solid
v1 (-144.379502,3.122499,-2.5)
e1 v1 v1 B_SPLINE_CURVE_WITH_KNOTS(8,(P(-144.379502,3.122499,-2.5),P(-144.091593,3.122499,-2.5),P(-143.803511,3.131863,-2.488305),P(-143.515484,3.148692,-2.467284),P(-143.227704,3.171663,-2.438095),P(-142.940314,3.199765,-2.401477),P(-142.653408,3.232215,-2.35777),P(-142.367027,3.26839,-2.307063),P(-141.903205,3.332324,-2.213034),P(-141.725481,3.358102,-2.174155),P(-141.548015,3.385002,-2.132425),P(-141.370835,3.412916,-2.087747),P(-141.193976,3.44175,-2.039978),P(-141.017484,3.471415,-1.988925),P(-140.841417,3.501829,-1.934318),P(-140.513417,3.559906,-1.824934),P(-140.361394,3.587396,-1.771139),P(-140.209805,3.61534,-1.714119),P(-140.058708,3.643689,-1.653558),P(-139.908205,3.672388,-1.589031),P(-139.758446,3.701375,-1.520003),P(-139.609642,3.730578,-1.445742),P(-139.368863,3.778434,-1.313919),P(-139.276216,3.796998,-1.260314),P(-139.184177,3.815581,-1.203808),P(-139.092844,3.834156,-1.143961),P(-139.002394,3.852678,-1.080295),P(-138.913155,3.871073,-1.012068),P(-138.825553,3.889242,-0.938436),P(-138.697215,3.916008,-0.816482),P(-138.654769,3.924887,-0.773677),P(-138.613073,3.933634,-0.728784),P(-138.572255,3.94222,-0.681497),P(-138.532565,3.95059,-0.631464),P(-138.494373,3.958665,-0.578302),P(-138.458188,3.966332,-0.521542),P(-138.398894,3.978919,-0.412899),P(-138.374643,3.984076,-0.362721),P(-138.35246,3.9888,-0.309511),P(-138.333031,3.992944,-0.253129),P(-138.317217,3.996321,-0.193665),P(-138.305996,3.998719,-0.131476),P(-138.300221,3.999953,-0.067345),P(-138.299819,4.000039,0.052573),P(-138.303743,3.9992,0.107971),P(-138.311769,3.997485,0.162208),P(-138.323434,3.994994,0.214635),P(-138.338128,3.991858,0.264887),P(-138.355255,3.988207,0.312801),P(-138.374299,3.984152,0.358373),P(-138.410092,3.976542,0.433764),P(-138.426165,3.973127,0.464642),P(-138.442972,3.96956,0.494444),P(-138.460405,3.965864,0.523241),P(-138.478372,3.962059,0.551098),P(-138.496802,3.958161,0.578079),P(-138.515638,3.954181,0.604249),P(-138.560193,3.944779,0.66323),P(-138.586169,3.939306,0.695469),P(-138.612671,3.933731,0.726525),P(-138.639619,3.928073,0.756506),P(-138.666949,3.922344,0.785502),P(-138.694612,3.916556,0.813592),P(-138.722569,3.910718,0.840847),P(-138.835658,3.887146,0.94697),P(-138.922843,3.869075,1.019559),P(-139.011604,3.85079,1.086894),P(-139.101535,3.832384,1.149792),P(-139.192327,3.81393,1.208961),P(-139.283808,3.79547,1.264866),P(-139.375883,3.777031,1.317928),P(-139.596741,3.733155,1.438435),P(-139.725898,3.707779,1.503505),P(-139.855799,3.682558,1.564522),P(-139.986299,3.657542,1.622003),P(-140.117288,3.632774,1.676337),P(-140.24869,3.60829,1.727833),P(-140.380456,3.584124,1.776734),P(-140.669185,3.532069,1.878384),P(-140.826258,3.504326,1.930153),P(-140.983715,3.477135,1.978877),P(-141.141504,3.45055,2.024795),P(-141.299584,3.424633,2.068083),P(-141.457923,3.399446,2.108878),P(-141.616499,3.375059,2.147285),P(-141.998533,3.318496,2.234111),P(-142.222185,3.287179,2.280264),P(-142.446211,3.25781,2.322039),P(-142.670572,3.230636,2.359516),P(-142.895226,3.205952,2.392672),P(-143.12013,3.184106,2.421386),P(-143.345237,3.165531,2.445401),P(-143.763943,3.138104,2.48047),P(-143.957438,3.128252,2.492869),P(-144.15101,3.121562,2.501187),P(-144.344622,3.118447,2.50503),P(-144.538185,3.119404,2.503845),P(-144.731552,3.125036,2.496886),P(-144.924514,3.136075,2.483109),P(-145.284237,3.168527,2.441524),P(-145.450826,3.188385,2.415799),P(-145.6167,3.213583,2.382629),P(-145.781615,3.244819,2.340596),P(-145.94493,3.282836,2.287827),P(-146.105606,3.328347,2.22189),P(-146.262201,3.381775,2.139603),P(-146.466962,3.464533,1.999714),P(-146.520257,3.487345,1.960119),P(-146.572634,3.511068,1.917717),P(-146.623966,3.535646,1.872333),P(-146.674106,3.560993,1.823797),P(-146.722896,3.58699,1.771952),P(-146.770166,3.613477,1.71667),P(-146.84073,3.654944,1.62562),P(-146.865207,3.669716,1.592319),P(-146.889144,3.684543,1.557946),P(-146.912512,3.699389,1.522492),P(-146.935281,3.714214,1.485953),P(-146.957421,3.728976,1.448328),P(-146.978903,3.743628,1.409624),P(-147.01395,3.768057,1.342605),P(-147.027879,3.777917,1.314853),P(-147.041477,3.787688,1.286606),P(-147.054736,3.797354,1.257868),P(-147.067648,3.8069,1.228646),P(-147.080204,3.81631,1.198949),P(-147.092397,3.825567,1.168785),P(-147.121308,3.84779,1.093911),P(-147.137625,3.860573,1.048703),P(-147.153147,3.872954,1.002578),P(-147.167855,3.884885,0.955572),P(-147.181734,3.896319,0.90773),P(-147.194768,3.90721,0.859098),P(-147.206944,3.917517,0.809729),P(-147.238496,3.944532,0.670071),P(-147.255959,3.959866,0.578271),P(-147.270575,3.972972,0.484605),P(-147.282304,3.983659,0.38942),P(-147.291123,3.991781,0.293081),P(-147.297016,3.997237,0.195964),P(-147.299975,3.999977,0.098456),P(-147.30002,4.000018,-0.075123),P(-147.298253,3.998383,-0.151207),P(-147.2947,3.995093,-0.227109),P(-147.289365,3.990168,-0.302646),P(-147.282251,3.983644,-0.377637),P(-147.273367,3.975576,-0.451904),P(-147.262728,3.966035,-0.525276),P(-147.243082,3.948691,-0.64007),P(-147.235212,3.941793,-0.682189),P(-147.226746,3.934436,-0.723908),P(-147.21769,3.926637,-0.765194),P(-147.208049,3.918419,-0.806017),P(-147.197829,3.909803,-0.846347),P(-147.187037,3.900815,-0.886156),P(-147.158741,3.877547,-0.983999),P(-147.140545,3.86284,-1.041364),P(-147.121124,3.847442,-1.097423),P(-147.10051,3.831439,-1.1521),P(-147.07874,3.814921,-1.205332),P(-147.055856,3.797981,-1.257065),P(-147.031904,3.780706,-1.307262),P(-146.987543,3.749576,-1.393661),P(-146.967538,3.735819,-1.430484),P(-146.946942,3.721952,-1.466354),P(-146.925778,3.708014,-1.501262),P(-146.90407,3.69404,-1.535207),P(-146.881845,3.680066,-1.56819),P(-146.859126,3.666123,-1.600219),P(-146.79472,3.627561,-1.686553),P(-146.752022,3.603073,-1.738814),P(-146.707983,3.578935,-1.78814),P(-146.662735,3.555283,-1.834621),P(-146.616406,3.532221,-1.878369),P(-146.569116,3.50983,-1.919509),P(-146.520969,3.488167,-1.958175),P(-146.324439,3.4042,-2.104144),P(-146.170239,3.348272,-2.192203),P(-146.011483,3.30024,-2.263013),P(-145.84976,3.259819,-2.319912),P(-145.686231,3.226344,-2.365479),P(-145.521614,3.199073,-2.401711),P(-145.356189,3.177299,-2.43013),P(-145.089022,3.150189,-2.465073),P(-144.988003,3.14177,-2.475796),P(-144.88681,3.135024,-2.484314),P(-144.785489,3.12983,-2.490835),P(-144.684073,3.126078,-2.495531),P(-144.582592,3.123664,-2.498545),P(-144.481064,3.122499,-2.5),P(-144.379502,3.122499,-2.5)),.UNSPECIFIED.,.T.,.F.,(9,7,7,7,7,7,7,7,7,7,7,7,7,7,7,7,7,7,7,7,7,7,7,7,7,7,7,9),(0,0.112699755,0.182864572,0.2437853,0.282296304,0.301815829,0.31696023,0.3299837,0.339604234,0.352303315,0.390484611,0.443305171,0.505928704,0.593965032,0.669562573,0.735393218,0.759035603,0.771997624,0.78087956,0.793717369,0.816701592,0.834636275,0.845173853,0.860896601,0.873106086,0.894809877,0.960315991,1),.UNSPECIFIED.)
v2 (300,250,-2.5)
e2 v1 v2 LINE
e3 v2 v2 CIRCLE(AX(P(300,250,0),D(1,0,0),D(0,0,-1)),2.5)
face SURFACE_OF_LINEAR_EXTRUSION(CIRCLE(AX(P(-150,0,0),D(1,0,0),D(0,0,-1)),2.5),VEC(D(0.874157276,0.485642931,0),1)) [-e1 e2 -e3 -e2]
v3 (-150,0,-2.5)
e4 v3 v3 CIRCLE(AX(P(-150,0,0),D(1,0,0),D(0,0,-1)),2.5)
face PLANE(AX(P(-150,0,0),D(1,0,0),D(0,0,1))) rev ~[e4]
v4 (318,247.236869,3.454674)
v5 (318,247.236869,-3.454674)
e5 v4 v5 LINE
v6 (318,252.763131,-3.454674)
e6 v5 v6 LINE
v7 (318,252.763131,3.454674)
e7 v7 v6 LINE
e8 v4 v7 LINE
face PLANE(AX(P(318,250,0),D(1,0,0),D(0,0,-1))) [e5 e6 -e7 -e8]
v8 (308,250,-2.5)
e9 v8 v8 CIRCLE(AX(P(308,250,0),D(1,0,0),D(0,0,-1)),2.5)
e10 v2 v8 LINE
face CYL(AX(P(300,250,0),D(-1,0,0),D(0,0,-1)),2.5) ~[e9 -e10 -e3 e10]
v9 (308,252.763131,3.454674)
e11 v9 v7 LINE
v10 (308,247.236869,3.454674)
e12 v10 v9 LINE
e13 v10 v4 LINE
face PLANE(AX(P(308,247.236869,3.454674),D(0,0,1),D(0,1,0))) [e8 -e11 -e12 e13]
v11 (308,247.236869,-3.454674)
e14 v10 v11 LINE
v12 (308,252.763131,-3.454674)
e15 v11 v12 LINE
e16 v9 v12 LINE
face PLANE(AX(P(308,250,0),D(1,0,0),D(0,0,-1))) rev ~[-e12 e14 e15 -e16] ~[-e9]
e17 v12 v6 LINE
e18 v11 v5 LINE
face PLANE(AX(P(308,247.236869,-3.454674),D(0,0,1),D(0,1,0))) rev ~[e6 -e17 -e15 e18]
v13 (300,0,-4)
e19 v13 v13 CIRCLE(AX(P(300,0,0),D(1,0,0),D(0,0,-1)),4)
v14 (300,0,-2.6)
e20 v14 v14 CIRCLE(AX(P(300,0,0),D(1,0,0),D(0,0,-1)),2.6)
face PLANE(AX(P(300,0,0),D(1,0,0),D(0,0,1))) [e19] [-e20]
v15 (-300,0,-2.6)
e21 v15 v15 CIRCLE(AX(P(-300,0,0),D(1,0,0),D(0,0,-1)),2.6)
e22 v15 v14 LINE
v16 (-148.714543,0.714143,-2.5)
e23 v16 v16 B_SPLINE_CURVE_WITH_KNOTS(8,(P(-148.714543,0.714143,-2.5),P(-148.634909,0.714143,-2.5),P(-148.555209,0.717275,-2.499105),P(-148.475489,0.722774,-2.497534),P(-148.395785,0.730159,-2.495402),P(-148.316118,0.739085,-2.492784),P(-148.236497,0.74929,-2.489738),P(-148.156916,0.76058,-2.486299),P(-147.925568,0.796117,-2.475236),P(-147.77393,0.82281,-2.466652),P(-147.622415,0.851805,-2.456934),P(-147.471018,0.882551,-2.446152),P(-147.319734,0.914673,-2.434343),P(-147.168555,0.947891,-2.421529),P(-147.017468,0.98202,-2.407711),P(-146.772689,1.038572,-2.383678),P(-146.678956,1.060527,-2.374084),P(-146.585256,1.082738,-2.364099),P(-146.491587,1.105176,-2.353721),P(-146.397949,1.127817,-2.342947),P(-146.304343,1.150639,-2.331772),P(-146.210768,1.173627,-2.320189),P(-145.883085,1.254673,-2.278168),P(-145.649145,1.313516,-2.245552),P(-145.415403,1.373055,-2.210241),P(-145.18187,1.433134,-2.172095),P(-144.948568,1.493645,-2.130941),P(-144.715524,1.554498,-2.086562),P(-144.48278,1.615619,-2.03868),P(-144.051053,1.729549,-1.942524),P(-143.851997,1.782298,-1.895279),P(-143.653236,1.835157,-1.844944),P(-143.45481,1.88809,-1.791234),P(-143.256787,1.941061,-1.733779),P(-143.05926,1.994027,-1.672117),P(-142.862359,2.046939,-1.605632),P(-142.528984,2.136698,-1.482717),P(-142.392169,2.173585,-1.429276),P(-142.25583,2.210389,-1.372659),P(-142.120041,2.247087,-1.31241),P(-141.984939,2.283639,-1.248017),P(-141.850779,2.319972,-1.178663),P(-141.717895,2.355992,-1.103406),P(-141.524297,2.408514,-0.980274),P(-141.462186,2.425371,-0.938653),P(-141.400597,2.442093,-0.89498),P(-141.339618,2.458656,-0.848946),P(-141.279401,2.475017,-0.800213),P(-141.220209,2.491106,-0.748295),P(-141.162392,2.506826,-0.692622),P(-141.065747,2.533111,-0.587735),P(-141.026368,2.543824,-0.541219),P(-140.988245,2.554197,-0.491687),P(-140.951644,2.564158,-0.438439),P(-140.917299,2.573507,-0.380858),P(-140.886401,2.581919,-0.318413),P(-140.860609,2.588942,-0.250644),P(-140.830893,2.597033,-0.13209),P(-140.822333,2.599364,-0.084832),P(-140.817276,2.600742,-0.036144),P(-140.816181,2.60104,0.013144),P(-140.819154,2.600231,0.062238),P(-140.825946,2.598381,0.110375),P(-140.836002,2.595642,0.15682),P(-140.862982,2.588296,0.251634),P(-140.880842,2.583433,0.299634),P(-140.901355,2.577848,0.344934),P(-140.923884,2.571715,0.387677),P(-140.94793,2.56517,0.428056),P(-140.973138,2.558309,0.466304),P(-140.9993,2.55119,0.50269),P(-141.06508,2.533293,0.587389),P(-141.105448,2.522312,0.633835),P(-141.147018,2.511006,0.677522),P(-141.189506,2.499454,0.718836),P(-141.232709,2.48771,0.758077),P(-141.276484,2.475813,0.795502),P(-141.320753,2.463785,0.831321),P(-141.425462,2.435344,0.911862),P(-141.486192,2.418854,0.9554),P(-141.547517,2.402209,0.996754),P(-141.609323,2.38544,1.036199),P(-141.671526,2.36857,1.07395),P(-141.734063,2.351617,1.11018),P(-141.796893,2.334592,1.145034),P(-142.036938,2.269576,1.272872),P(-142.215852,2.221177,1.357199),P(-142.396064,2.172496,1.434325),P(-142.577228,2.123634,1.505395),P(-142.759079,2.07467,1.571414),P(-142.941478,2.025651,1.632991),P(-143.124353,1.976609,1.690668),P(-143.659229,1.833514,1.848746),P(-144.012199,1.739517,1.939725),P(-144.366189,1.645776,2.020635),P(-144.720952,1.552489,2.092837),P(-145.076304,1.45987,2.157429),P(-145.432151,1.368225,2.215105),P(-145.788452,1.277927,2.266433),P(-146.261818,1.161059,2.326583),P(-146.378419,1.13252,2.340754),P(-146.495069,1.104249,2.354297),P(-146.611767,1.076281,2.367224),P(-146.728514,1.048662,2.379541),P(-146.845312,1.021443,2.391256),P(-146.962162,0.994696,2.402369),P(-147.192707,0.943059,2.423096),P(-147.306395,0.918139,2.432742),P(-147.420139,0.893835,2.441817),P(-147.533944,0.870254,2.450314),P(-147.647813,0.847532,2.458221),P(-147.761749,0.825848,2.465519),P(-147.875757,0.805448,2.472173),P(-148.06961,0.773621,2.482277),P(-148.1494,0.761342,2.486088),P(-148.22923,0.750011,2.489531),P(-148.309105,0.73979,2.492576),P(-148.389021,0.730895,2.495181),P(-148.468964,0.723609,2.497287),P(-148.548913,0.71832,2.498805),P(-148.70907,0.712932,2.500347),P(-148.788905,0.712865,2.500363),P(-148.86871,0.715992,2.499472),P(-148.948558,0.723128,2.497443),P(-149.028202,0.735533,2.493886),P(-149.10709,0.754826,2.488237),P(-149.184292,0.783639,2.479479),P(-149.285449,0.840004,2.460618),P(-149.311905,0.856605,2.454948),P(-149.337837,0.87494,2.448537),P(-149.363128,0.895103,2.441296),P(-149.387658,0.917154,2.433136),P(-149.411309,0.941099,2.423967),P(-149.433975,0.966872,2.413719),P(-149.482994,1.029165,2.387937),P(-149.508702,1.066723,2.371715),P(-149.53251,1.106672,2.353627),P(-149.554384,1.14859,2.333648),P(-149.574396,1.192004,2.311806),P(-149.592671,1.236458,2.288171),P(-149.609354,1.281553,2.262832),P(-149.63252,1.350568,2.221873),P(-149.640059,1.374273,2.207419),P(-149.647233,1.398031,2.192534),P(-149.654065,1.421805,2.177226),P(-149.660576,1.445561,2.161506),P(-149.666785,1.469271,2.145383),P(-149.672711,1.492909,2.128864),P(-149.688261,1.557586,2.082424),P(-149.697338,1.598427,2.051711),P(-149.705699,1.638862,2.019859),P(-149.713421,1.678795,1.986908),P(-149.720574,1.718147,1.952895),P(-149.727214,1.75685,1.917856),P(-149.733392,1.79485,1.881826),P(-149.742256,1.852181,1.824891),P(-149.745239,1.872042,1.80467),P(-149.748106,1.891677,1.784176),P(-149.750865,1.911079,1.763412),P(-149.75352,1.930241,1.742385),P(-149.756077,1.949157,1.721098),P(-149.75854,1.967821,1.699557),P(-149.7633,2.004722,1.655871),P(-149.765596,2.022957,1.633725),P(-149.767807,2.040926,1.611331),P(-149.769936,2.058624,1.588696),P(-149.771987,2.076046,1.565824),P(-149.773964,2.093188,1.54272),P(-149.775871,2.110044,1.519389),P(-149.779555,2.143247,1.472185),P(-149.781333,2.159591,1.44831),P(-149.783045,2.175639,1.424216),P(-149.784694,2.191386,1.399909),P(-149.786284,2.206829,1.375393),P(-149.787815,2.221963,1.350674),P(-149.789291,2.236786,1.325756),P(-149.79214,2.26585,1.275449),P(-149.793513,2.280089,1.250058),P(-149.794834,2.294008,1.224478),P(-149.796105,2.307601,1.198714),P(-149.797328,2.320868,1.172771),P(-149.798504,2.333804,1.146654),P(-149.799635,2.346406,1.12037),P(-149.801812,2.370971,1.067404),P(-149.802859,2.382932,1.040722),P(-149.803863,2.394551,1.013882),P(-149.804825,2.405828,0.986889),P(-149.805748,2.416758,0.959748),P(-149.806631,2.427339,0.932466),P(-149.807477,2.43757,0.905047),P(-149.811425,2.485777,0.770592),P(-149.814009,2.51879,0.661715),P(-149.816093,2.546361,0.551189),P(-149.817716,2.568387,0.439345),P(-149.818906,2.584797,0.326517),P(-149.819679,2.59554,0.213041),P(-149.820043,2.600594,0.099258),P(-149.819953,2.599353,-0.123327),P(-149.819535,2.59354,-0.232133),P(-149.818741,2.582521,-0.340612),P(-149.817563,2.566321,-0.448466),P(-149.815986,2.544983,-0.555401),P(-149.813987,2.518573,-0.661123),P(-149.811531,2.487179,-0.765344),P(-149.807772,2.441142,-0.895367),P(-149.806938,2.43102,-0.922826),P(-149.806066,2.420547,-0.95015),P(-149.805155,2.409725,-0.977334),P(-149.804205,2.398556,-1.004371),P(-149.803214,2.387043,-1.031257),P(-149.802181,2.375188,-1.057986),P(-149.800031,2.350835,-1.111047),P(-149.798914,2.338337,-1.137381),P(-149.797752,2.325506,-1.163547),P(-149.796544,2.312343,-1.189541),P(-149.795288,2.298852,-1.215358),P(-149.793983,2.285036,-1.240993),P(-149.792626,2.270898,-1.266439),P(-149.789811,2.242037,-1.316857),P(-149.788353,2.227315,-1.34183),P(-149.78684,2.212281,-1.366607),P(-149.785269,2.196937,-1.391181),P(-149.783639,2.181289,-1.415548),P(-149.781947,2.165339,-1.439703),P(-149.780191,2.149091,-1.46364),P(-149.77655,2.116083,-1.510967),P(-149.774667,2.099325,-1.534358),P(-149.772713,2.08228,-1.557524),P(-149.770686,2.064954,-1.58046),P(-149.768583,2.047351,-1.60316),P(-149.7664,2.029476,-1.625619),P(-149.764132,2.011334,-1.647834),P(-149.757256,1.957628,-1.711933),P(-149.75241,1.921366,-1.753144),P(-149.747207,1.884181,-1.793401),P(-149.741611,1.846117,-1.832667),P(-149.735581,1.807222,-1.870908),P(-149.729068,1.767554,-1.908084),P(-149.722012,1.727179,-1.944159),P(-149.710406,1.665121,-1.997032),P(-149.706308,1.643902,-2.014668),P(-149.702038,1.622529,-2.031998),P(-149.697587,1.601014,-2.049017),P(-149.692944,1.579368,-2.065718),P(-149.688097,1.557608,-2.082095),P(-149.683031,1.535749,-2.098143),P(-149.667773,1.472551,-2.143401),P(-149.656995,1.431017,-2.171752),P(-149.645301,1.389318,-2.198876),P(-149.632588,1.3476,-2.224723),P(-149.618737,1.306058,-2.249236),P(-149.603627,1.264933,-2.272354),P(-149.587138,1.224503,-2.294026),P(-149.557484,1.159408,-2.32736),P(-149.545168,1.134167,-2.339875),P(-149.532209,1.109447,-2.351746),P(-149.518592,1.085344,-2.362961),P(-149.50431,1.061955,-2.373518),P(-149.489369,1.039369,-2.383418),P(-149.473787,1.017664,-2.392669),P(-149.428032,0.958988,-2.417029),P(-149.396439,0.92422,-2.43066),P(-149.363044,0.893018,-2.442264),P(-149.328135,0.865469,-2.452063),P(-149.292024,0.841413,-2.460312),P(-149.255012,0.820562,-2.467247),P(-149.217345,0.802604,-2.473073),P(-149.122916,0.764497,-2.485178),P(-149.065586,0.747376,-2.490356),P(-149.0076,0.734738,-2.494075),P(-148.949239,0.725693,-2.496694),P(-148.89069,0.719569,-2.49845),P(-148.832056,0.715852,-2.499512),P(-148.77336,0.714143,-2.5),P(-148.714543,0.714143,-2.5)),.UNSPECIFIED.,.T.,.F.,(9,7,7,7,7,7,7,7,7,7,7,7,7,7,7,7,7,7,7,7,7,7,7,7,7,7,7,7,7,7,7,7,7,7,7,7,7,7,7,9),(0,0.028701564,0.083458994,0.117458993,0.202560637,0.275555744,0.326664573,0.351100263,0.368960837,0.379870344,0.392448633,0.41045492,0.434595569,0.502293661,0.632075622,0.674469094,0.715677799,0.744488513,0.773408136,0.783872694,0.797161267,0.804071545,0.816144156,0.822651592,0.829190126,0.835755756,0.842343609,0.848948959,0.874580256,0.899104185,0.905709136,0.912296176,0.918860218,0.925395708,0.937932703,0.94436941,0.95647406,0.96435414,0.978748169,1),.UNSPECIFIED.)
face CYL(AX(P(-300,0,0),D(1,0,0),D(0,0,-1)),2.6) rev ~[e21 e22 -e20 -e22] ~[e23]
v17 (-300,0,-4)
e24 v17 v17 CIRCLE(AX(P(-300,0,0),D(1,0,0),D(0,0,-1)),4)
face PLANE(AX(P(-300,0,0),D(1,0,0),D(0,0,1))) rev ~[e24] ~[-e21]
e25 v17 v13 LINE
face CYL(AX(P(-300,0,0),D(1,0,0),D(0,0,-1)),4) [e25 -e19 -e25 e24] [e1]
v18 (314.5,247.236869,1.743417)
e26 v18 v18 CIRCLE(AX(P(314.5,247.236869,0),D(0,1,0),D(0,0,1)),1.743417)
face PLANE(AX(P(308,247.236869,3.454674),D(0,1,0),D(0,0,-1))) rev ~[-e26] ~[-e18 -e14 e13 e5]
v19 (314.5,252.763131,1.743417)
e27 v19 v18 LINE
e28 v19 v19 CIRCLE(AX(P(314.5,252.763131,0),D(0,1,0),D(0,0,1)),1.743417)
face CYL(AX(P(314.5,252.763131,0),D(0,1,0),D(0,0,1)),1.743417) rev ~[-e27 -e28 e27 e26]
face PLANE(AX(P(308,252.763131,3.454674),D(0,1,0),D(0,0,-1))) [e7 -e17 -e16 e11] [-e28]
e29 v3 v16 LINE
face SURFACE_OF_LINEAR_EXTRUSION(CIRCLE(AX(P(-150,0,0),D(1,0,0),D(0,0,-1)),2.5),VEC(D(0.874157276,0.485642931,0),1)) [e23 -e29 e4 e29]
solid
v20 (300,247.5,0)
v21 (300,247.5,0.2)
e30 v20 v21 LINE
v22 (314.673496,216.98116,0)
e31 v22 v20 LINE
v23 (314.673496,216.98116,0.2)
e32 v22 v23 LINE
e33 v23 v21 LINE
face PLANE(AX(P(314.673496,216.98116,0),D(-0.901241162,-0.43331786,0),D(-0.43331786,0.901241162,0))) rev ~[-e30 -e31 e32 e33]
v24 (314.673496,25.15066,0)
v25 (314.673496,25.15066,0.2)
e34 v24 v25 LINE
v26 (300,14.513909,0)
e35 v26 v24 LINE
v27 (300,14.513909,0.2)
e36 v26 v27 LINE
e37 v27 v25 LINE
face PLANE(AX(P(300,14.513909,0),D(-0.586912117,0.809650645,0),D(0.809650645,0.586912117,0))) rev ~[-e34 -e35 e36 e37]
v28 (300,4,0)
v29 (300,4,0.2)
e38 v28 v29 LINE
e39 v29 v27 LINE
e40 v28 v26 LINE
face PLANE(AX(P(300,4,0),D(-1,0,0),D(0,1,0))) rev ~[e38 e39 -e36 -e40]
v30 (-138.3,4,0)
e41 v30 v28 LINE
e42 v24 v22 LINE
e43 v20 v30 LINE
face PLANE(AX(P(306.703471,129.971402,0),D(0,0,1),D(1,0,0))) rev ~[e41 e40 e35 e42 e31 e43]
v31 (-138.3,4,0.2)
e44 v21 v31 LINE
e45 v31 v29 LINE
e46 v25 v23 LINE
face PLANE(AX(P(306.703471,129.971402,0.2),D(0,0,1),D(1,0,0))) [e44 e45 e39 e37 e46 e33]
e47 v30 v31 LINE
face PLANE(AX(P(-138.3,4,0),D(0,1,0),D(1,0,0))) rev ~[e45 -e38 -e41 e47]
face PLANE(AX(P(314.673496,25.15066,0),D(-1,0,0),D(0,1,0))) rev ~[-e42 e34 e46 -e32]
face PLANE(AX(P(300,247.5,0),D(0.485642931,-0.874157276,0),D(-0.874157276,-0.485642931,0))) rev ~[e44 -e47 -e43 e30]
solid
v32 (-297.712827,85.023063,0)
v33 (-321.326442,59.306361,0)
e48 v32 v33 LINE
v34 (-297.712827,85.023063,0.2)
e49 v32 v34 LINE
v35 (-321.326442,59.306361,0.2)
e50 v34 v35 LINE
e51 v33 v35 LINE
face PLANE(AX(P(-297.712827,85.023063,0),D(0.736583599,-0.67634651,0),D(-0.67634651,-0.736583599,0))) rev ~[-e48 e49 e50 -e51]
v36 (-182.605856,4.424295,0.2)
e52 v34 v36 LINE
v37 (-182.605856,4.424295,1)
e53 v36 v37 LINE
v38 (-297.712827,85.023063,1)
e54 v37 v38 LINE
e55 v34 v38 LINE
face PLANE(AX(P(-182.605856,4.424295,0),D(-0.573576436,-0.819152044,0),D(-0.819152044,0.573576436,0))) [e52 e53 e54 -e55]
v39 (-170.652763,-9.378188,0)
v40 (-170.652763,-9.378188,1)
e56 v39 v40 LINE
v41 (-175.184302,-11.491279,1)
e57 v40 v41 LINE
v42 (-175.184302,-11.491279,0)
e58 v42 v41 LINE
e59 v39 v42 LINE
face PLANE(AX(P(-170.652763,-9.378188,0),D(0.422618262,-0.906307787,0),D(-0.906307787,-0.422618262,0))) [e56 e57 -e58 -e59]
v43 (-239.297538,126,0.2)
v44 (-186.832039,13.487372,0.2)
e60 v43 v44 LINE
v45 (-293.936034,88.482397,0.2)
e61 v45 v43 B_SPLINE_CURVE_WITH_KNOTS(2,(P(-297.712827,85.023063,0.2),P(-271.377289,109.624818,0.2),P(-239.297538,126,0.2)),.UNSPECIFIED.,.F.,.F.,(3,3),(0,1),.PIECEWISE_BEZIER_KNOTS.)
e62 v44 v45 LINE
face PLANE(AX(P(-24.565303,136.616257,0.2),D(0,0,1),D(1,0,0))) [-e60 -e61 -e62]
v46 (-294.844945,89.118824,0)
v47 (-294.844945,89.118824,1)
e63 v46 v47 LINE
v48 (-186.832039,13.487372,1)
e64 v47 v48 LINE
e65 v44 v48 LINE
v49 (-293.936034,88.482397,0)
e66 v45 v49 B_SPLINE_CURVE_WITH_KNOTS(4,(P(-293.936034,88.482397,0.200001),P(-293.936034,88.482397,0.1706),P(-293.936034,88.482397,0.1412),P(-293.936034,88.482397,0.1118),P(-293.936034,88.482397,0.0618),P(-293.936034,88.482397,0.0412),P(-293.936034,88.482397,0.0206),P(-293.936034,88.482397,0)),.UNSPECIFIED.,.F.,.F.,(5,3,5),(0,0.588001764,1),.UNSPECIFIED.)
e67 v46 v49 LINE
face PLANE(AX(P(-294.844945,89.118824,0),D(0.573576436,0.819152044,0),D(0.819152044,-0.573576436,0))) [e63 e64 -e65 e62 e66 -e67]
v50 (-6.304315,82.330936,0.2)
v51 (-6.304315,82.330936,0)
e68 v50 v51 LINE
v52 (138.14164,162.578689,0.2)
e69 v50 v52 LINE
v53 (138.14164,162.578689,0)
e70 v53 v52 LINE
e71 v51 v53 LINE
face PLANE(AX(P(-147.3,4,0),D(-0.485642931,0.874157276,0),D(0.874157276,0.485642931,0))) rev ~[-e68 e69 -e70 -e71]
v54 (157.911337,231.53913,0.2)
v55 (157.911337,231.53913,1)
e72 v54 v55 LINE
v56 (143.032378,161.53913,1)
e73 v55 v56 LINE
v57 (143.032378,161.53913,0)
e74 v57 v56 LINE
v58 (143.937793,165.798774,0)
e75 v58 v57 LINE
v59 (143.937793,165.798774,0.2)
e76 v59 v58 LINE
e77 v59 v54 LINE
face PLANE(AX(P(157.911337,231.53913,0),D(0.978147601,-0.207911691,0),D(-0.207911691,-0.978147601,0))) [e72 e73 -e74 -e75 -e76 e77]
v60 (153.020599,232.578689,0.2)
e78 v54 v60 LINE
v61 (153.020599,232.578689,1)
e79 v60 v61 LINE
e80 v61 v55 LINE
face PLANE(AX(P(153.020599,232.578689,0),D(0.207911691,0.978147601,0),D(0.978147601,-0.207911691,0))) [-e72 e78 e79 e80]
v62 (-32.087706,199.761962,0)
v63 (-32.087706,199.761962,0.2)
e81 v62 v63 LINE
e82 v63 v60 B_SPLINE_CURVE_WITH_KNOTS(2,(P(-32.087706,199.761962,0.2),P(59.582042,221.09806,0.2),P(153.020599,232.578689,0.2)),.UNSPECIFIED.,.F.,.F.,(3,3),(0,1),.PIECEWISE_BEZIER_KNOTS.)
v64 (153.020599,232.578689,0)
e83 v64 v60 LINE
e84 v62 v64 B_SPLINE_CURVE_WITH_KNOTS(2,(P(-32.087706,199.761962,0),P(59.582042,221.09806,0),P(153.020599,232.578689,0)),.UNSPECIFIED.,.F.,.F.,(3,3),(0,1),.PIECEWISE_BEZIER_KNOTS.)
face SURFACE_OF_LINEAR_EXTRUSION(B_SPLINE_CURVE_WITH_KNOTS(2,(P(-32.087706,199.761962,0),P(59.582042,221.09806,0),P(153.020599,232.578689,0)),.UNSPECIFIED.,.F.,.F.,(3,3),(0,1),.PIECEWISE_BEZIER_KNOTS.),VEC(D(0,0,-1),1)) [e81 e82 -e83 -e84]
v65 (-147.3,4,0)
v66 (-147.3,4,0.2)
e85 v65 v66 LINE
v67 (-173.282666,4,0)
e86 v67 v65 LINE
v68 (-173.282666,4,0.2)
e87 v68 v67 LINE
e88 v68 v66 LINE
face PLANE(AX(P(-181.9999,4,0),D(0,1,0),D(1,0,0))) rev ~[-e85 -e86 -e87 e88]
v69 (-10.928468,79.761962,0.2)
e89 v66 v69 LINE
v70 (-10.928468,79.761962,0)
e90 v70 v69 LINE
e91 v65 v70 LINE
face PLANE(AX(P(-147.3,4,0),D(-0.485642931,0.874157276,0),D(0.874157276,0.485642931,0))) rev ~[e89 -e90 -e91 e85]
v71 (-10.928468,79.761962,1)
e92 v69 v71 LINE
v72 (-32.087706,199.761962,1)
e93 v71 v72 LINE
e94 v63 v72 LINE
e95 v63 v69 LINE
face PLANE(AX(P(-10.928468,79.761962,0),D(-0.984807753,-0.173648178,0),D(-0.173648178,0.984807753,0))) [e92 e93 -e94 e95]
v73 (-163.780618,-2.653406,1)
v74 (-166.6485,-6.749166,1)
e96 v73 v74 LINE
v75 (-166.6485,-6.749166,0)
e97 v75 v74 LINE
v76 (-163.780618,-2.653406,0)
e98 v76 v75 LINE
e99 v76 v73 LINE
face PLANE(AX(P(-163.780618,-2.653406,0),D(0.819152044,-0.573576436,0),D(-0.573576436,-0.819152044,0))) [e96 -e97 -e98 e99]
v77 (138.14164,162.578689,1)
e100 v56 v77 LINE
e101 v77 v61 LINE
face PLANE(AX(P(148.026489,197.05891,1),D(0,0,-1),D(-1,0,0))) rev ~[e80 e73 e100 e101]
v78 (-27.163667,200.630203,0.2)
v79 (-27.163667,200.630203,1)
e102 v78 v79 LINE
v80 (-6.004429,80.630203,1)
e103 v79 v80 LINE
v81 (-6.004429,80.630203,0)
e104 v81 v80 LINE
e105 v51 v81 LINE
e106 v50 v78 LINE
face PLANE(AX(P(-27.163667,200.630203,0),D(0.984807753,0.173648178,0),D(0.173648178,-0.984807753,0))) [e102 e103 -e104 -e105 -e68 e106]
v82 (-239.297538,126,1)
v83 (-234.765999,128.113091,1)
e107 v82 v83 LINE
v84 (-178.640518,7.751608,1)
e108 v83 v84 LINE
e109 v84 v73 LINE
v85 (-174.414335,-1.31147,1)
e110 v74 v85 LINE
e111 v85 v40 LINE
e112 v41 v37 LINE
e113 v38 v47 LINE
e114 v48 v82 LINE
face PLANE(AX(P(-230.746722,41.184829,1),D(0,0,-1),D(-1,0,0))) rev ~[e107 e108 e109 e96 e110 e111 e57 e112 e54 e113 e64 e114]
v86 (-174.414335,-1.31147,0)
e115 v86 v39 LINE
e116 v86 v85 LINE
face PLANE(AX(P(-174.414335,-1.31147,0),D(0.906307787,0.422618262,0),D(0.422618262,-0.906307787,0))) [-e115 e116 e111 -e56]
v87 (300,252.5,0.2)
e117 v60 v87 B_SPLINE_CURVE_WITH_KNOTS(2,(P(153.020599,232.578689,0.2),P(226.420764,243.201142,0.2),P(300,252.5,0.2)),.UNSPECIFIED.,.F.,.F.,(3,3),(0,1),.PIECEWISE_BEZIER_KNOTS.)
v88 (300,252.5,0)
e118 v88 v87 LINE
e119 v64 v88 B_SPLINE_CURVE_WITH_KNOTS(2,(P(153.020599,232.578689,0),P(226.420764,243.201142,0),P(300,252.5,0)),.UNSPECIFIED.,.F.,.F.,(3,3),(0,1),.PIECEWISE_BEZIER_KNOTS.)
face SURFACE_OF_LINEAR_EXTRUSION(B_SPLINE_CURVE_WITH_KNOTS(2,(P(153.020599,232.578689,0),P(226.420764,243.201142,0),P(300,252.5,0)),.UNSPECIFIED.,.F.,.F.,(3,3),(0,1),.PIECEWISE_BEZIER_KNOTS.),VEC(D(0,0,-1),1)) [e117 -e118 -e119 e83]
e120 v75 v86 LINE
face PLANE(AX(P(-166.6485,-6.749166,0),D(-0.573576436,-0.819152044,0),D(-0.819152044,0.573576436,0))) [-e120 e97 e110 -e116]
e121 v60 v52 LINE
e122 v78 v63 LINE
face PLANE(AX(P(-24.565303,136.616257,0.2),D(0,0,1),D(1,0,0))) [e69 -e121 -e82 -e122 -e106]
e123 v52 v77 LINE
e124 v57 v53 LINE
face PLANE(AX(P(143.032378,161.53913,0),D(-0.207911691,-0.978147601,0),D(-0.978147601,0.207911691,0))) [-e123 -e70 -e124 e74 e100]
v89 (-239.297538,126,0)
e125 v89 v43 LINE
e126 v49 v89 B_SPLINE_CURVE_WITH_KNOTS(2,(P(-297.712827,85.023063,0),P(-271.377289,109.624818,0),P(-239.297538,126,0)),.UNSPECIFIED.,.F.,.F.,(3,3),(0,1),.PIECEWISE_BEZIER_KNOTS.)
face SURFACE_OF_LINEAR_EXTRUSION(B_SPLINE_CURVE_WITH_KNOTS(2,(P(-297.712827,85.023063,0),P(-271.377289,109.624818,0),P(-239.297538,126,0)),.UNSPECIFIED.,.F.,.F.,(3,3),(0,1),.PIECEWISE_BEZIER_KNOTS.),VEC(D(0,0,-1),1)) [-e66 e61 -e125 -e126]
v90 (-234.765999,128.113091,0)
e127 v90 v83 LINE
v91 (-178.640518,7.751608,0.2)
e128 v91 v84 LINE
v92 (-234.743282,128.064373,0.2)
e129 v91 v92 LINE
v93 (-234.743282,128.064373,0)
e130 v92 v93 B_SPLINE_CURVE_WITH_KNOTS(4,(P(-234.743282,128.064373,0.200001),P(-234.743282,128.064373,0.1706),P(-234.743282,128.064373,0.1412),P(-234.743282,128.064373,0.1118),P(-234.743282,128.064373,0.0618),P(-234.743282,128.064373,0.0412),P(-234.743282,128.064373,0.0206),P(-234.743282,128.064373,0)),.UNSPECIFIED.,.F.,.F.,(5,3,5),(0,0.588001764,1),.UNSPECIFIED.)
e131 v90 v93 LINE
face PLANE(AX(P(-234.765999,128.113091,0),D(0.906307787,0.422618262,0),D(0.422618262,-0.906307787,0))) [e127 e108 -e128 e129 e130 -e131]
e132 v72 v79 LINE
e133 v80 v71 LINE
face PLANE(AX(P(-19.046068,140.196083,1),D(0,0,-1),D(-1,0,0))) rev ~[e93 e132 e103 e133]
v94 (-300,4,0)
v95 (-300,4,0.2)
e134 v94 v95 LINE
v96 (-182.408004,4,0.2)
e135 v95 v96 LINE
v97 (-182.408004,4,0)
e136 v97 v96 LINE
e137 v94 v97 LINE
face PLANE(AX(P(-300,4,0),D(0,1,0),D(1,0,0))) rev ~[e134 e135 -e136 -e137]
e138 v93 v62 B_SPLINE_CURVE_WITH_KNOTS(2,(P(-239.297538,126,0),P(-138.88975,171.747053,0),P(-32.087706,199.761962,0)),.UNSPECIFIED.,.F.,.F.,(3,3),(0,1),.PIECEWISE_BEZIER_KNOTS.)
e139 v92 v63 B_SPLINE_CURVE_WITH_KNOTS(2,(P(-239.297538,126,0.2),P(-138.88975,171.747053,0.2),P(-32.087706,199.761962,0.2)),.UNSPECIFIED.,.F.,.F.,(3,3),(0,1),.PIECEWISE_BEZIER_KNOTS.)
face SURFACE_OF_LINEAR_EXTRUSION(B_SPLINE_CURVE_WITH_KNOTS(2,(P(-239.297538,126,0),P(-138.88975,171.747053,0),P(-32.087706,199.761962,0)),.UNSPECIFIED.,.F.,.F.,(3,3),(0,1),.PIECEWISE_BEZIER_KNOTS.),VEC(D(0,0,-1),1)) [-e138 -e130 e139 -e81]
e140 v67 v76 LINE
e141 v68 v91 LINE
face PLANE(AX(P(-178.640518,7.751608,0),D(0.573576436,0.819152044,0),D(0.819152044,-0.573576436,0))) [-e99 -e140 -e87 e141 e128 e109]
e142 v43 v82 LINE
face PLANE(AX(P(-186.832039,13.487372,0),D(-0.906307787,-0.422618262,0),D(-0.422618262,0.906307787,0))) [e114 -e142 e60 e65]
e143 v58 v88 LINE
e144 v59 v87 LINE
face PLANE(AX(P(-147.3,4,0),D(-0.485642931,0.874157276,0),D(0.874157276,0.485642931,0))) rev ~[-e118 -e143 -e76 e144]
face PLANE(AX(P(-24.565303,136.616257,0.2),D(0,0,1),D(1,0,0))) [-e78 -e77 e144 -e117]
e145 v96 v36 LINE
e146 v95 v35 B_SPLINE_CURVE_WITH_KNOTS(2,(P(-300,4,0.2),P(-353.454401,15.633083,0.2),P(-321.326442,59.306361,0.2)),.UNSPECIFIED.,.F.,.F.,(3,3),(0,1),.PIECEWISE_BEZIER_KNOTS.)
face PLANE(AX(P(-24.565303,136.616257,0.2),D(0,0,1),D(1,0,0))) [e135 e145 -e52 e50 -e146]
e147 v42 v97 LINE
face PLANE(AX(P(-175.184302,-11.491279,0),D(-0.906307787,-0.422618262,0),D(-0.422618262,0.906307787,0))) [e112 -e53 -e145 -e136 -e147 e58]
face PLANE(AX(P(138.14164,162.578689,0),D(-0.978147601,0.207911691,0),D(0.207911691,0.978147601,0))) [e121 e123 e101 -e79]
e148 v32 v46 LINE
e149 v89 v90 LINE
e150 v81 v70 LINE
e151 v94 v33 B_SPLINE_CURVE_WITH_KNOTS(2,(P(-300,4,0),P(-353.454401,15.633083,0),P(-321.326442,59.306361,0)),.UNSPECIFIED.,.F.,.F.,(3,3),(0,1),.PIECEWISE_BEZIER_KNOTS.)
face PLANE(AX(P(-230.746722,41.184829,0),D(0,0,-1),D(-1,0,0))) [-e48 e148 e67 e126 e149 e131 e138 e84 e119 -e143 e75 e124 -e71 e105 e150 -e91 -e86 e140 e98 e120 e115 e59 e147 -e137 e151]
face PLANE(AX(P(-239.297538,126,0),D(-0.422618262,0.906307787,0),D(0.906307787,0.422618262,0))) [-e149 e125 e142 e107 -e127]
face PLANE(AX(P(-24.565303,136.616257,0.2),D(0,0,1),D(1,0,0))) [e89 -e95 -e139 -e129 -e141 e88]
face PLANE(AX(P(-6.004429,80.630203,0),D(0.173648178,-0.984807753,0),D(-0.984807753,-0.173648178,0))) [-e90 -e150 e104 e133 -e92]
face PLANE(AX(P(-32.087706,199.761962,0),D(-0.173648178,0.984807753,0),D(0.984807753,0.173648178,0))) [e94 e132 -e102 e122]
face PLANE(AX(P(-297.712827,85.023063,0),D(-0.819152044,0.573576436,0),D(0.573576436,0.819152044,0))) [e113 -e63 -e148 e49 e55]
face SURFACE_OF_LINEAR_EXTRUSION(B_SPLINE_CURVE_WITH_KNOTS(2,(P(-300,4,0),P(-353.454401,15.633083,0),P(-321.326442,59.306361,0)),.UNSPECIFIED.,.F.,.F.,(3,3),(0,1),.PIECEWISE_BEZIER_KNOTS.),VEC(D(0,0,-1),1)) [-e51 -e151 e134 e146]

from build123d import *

# Parameters (mm, degrees)
SKETCH2_R            = 4
SKETCH2_R_2          = 2.6
SKETCH4_R            = 2.5
BOSS_EXTRUDE1_DEPTH  = 0.2
EXTRUDE_THIN1_DEPTH  = 1
BOSS_EXTRUDE5_DEPTH  = 0.2
BOSS_EXTRUDE8_DEPTH  = 0.2
SKETCH10_R           = 2.5
BOSS_EXTRUDE13_DEPTH = 8
SKETCH11_W           = 6.909348158
SKETCH11_H           = 5.526262888
BOSS_EXTRUDE14_DEPTH = 10
SKETCH13_R           = 1.743417083
CUT_EXTRUDE1_DEPTH   = 7


with BuildPart() as part:
    # Sweep1: sweep along a path in Sketch1
    with BuildLine(Plane.XY) as sweep1_path:
        Line((-300, 0), (300, 0))
    # Sketch2 → Sweep1 (sweep)
    with BuildSketch(Plane(origin=(-300, 0, 0), x_dir=(0, 0, -1), z_dir=(1, 0, 0))):
        Circle(SKETCH2_R)
        Circle(SKETCH2_R_2, mode=Mode.SUBTRACT)
    sweep(path=sweep1_path.line)

    # Sweep2: sweep along a path in Sketch3
    with BuildLine(Plane.XY) as sweep2_path:
        Line((-150, 0), (300, 250))
    # Sketch4 → Sweep2 (sweep)
    with BuildSketch(Plane(origin=(300, 0, 0), x_dir=(0, 0, -1), z_dir=(1, 0, 0))):
        with Locations((0, 250)):
            Circle(SKETCH4_R)
    sweep(path=sweep2_path.line)

    # Sketch10 → Boss-Extrude13 (add)
    with BuildSketch(Plane(origin=(300, 0, 0), x_dir=(0, 0, -1), z_dir=(1, 0, 0))):
        with Locations((0, 250)):
            Circle(SKETCH10_R)
    extrude(amount=BOSS_EXTRUDE13_DEPTH)

    # Sketch11 → Boss-Extrude14 (add)
    with BuildSketch(Plane(origin=(308, 0, 0), x_dir=(0, 0, -1), z_dir=(1, 0, 0))):
        with Locations((0, 250)):
            Rectangle(SKETCH11_W, SKETCH11_H)
    extrude(amount=BOSS_EXTRUDE14_DEPTH)

    # Sketch13 → Cut-Extrude1 (cut)
    with BuildSketch(Plane(origin=(0, 252.763131444, 0), x_dir=(1, 0, 0), z_dir=(0, 1, 0))):
        with Locations((314.5, 0)):
            Circle(SKETCH13_R)
    extrude(amount=-CUT_EXTRUDE1_DEPTH, mode=Mode.SUBTRACT)


with BuildPart() as body_2:
    # Sketch5 → Boss-Extrude1 (new body)
    with BuildSketch(Plane.XY):
        with BuildLine():
            Line((-182.605855926, 4.424294622), (-181.999900407, 4))
            Line((-181.999900407, 4), (-147.3, 4))
            Line((-147.3, 4), (300, 252.5))
            add(Edge.make_bspline(
                [(153.020599332, 232.578688898), (226.42076394, 243.201142234), (300, 252.5)],
                knots=[0, 0, 0, 1, 1, 1], degree=2))
            add(Edge.make_bspline(
                [(-32.087705813, 199.761962151), (59.582042368, 221.098060394), (153.020599332, 232.578688898)],
                knots=[0, 0, 0, 1, 1, 1], degree=2))
            add(Edge.make_bspline(
                [(-239.297538389, 126), (-138.889749708, 171.747052515), (-32.087705813, 199.761962151)],
                knots=[0, 0, 0, 1, 1, 1], degree=2))
            add(Edge.make_bspline(
                [(-297.712826784, 85.023063317), (-271.377288529, 109.624818441), (-239.297538389, 126)],
                knots=[0, 0, 0, 1, 1, 1], degree=2))
            Line((-297.712826784, 85.023063317), (-321.326441997, 59.306361284))
            add(Edge.make_bspline(
                [(-300, 4), (-353.454401098, 15.63308285), (-321.326441997, 59.306361284)],
                knots=[0, 0, 0, 1, 1, 1], degree=2))
            Line((-300, 4), (-182.408004094, 4))
            Line((-182.408004094, 4), (-182.605855926, 4.424294622))
        make_face()
    extrude(amount=BOSS_EXTRUDE1_DEPTH)

    # Sketch5<3> → Extrude-Thin1 (add)
    with BuildSketch(Plane.XY):
        Polygon((-166.648499698, -6.749166499), (-297.712826784, 85.023063317), (-294.844944602, 89.118823539), (-163.780617516, -2.653406277), align=None)
        Polygon((-175.18430209, -11.491278939), (-239.297538389, 126), (-234.765999454, 128.113091309), (-170.652763155, -9.37818763), align=None)
        Polygon((-10.928468128, 79.761962151), (-32.087705813, 199.761962151), (-27.163667048, 200.630203039), (-6.004429363, 80.630203039), align=None)
        Polygon((138.141640016, 162.578688898), (153.020599332, 232.578688898), (157.911337336, 231.539130443), (143.032378019, 161.539130443), align=None)
    extrude(amount=EXTRUDE_THIN1_DEPTH)


with BuildPart() as body_3:
    # Sketch6 → Boss-Extrude5 (new body)
    with BuildSketch(Plane.XY):
        Polygon((300, 4), (300, 247.5), (-138.3, 4), align=None)
    extrude(amount=BOSS_EXTRUDE5_DEPTH)

    # Sketch8 → Boss-Extrude8 (add)
    with BuildSketch(Plane.XY):
        Polygon((314.67349594, 216.981159788), (300, 247.5), (300, 14.513908711), (314.67349594, 25.150660034), align=None)
    extrude(amount=BOSS_EXTRUDE8_DEPTH)


solid = Compound([part.part, body_2.part, body_3.part])
